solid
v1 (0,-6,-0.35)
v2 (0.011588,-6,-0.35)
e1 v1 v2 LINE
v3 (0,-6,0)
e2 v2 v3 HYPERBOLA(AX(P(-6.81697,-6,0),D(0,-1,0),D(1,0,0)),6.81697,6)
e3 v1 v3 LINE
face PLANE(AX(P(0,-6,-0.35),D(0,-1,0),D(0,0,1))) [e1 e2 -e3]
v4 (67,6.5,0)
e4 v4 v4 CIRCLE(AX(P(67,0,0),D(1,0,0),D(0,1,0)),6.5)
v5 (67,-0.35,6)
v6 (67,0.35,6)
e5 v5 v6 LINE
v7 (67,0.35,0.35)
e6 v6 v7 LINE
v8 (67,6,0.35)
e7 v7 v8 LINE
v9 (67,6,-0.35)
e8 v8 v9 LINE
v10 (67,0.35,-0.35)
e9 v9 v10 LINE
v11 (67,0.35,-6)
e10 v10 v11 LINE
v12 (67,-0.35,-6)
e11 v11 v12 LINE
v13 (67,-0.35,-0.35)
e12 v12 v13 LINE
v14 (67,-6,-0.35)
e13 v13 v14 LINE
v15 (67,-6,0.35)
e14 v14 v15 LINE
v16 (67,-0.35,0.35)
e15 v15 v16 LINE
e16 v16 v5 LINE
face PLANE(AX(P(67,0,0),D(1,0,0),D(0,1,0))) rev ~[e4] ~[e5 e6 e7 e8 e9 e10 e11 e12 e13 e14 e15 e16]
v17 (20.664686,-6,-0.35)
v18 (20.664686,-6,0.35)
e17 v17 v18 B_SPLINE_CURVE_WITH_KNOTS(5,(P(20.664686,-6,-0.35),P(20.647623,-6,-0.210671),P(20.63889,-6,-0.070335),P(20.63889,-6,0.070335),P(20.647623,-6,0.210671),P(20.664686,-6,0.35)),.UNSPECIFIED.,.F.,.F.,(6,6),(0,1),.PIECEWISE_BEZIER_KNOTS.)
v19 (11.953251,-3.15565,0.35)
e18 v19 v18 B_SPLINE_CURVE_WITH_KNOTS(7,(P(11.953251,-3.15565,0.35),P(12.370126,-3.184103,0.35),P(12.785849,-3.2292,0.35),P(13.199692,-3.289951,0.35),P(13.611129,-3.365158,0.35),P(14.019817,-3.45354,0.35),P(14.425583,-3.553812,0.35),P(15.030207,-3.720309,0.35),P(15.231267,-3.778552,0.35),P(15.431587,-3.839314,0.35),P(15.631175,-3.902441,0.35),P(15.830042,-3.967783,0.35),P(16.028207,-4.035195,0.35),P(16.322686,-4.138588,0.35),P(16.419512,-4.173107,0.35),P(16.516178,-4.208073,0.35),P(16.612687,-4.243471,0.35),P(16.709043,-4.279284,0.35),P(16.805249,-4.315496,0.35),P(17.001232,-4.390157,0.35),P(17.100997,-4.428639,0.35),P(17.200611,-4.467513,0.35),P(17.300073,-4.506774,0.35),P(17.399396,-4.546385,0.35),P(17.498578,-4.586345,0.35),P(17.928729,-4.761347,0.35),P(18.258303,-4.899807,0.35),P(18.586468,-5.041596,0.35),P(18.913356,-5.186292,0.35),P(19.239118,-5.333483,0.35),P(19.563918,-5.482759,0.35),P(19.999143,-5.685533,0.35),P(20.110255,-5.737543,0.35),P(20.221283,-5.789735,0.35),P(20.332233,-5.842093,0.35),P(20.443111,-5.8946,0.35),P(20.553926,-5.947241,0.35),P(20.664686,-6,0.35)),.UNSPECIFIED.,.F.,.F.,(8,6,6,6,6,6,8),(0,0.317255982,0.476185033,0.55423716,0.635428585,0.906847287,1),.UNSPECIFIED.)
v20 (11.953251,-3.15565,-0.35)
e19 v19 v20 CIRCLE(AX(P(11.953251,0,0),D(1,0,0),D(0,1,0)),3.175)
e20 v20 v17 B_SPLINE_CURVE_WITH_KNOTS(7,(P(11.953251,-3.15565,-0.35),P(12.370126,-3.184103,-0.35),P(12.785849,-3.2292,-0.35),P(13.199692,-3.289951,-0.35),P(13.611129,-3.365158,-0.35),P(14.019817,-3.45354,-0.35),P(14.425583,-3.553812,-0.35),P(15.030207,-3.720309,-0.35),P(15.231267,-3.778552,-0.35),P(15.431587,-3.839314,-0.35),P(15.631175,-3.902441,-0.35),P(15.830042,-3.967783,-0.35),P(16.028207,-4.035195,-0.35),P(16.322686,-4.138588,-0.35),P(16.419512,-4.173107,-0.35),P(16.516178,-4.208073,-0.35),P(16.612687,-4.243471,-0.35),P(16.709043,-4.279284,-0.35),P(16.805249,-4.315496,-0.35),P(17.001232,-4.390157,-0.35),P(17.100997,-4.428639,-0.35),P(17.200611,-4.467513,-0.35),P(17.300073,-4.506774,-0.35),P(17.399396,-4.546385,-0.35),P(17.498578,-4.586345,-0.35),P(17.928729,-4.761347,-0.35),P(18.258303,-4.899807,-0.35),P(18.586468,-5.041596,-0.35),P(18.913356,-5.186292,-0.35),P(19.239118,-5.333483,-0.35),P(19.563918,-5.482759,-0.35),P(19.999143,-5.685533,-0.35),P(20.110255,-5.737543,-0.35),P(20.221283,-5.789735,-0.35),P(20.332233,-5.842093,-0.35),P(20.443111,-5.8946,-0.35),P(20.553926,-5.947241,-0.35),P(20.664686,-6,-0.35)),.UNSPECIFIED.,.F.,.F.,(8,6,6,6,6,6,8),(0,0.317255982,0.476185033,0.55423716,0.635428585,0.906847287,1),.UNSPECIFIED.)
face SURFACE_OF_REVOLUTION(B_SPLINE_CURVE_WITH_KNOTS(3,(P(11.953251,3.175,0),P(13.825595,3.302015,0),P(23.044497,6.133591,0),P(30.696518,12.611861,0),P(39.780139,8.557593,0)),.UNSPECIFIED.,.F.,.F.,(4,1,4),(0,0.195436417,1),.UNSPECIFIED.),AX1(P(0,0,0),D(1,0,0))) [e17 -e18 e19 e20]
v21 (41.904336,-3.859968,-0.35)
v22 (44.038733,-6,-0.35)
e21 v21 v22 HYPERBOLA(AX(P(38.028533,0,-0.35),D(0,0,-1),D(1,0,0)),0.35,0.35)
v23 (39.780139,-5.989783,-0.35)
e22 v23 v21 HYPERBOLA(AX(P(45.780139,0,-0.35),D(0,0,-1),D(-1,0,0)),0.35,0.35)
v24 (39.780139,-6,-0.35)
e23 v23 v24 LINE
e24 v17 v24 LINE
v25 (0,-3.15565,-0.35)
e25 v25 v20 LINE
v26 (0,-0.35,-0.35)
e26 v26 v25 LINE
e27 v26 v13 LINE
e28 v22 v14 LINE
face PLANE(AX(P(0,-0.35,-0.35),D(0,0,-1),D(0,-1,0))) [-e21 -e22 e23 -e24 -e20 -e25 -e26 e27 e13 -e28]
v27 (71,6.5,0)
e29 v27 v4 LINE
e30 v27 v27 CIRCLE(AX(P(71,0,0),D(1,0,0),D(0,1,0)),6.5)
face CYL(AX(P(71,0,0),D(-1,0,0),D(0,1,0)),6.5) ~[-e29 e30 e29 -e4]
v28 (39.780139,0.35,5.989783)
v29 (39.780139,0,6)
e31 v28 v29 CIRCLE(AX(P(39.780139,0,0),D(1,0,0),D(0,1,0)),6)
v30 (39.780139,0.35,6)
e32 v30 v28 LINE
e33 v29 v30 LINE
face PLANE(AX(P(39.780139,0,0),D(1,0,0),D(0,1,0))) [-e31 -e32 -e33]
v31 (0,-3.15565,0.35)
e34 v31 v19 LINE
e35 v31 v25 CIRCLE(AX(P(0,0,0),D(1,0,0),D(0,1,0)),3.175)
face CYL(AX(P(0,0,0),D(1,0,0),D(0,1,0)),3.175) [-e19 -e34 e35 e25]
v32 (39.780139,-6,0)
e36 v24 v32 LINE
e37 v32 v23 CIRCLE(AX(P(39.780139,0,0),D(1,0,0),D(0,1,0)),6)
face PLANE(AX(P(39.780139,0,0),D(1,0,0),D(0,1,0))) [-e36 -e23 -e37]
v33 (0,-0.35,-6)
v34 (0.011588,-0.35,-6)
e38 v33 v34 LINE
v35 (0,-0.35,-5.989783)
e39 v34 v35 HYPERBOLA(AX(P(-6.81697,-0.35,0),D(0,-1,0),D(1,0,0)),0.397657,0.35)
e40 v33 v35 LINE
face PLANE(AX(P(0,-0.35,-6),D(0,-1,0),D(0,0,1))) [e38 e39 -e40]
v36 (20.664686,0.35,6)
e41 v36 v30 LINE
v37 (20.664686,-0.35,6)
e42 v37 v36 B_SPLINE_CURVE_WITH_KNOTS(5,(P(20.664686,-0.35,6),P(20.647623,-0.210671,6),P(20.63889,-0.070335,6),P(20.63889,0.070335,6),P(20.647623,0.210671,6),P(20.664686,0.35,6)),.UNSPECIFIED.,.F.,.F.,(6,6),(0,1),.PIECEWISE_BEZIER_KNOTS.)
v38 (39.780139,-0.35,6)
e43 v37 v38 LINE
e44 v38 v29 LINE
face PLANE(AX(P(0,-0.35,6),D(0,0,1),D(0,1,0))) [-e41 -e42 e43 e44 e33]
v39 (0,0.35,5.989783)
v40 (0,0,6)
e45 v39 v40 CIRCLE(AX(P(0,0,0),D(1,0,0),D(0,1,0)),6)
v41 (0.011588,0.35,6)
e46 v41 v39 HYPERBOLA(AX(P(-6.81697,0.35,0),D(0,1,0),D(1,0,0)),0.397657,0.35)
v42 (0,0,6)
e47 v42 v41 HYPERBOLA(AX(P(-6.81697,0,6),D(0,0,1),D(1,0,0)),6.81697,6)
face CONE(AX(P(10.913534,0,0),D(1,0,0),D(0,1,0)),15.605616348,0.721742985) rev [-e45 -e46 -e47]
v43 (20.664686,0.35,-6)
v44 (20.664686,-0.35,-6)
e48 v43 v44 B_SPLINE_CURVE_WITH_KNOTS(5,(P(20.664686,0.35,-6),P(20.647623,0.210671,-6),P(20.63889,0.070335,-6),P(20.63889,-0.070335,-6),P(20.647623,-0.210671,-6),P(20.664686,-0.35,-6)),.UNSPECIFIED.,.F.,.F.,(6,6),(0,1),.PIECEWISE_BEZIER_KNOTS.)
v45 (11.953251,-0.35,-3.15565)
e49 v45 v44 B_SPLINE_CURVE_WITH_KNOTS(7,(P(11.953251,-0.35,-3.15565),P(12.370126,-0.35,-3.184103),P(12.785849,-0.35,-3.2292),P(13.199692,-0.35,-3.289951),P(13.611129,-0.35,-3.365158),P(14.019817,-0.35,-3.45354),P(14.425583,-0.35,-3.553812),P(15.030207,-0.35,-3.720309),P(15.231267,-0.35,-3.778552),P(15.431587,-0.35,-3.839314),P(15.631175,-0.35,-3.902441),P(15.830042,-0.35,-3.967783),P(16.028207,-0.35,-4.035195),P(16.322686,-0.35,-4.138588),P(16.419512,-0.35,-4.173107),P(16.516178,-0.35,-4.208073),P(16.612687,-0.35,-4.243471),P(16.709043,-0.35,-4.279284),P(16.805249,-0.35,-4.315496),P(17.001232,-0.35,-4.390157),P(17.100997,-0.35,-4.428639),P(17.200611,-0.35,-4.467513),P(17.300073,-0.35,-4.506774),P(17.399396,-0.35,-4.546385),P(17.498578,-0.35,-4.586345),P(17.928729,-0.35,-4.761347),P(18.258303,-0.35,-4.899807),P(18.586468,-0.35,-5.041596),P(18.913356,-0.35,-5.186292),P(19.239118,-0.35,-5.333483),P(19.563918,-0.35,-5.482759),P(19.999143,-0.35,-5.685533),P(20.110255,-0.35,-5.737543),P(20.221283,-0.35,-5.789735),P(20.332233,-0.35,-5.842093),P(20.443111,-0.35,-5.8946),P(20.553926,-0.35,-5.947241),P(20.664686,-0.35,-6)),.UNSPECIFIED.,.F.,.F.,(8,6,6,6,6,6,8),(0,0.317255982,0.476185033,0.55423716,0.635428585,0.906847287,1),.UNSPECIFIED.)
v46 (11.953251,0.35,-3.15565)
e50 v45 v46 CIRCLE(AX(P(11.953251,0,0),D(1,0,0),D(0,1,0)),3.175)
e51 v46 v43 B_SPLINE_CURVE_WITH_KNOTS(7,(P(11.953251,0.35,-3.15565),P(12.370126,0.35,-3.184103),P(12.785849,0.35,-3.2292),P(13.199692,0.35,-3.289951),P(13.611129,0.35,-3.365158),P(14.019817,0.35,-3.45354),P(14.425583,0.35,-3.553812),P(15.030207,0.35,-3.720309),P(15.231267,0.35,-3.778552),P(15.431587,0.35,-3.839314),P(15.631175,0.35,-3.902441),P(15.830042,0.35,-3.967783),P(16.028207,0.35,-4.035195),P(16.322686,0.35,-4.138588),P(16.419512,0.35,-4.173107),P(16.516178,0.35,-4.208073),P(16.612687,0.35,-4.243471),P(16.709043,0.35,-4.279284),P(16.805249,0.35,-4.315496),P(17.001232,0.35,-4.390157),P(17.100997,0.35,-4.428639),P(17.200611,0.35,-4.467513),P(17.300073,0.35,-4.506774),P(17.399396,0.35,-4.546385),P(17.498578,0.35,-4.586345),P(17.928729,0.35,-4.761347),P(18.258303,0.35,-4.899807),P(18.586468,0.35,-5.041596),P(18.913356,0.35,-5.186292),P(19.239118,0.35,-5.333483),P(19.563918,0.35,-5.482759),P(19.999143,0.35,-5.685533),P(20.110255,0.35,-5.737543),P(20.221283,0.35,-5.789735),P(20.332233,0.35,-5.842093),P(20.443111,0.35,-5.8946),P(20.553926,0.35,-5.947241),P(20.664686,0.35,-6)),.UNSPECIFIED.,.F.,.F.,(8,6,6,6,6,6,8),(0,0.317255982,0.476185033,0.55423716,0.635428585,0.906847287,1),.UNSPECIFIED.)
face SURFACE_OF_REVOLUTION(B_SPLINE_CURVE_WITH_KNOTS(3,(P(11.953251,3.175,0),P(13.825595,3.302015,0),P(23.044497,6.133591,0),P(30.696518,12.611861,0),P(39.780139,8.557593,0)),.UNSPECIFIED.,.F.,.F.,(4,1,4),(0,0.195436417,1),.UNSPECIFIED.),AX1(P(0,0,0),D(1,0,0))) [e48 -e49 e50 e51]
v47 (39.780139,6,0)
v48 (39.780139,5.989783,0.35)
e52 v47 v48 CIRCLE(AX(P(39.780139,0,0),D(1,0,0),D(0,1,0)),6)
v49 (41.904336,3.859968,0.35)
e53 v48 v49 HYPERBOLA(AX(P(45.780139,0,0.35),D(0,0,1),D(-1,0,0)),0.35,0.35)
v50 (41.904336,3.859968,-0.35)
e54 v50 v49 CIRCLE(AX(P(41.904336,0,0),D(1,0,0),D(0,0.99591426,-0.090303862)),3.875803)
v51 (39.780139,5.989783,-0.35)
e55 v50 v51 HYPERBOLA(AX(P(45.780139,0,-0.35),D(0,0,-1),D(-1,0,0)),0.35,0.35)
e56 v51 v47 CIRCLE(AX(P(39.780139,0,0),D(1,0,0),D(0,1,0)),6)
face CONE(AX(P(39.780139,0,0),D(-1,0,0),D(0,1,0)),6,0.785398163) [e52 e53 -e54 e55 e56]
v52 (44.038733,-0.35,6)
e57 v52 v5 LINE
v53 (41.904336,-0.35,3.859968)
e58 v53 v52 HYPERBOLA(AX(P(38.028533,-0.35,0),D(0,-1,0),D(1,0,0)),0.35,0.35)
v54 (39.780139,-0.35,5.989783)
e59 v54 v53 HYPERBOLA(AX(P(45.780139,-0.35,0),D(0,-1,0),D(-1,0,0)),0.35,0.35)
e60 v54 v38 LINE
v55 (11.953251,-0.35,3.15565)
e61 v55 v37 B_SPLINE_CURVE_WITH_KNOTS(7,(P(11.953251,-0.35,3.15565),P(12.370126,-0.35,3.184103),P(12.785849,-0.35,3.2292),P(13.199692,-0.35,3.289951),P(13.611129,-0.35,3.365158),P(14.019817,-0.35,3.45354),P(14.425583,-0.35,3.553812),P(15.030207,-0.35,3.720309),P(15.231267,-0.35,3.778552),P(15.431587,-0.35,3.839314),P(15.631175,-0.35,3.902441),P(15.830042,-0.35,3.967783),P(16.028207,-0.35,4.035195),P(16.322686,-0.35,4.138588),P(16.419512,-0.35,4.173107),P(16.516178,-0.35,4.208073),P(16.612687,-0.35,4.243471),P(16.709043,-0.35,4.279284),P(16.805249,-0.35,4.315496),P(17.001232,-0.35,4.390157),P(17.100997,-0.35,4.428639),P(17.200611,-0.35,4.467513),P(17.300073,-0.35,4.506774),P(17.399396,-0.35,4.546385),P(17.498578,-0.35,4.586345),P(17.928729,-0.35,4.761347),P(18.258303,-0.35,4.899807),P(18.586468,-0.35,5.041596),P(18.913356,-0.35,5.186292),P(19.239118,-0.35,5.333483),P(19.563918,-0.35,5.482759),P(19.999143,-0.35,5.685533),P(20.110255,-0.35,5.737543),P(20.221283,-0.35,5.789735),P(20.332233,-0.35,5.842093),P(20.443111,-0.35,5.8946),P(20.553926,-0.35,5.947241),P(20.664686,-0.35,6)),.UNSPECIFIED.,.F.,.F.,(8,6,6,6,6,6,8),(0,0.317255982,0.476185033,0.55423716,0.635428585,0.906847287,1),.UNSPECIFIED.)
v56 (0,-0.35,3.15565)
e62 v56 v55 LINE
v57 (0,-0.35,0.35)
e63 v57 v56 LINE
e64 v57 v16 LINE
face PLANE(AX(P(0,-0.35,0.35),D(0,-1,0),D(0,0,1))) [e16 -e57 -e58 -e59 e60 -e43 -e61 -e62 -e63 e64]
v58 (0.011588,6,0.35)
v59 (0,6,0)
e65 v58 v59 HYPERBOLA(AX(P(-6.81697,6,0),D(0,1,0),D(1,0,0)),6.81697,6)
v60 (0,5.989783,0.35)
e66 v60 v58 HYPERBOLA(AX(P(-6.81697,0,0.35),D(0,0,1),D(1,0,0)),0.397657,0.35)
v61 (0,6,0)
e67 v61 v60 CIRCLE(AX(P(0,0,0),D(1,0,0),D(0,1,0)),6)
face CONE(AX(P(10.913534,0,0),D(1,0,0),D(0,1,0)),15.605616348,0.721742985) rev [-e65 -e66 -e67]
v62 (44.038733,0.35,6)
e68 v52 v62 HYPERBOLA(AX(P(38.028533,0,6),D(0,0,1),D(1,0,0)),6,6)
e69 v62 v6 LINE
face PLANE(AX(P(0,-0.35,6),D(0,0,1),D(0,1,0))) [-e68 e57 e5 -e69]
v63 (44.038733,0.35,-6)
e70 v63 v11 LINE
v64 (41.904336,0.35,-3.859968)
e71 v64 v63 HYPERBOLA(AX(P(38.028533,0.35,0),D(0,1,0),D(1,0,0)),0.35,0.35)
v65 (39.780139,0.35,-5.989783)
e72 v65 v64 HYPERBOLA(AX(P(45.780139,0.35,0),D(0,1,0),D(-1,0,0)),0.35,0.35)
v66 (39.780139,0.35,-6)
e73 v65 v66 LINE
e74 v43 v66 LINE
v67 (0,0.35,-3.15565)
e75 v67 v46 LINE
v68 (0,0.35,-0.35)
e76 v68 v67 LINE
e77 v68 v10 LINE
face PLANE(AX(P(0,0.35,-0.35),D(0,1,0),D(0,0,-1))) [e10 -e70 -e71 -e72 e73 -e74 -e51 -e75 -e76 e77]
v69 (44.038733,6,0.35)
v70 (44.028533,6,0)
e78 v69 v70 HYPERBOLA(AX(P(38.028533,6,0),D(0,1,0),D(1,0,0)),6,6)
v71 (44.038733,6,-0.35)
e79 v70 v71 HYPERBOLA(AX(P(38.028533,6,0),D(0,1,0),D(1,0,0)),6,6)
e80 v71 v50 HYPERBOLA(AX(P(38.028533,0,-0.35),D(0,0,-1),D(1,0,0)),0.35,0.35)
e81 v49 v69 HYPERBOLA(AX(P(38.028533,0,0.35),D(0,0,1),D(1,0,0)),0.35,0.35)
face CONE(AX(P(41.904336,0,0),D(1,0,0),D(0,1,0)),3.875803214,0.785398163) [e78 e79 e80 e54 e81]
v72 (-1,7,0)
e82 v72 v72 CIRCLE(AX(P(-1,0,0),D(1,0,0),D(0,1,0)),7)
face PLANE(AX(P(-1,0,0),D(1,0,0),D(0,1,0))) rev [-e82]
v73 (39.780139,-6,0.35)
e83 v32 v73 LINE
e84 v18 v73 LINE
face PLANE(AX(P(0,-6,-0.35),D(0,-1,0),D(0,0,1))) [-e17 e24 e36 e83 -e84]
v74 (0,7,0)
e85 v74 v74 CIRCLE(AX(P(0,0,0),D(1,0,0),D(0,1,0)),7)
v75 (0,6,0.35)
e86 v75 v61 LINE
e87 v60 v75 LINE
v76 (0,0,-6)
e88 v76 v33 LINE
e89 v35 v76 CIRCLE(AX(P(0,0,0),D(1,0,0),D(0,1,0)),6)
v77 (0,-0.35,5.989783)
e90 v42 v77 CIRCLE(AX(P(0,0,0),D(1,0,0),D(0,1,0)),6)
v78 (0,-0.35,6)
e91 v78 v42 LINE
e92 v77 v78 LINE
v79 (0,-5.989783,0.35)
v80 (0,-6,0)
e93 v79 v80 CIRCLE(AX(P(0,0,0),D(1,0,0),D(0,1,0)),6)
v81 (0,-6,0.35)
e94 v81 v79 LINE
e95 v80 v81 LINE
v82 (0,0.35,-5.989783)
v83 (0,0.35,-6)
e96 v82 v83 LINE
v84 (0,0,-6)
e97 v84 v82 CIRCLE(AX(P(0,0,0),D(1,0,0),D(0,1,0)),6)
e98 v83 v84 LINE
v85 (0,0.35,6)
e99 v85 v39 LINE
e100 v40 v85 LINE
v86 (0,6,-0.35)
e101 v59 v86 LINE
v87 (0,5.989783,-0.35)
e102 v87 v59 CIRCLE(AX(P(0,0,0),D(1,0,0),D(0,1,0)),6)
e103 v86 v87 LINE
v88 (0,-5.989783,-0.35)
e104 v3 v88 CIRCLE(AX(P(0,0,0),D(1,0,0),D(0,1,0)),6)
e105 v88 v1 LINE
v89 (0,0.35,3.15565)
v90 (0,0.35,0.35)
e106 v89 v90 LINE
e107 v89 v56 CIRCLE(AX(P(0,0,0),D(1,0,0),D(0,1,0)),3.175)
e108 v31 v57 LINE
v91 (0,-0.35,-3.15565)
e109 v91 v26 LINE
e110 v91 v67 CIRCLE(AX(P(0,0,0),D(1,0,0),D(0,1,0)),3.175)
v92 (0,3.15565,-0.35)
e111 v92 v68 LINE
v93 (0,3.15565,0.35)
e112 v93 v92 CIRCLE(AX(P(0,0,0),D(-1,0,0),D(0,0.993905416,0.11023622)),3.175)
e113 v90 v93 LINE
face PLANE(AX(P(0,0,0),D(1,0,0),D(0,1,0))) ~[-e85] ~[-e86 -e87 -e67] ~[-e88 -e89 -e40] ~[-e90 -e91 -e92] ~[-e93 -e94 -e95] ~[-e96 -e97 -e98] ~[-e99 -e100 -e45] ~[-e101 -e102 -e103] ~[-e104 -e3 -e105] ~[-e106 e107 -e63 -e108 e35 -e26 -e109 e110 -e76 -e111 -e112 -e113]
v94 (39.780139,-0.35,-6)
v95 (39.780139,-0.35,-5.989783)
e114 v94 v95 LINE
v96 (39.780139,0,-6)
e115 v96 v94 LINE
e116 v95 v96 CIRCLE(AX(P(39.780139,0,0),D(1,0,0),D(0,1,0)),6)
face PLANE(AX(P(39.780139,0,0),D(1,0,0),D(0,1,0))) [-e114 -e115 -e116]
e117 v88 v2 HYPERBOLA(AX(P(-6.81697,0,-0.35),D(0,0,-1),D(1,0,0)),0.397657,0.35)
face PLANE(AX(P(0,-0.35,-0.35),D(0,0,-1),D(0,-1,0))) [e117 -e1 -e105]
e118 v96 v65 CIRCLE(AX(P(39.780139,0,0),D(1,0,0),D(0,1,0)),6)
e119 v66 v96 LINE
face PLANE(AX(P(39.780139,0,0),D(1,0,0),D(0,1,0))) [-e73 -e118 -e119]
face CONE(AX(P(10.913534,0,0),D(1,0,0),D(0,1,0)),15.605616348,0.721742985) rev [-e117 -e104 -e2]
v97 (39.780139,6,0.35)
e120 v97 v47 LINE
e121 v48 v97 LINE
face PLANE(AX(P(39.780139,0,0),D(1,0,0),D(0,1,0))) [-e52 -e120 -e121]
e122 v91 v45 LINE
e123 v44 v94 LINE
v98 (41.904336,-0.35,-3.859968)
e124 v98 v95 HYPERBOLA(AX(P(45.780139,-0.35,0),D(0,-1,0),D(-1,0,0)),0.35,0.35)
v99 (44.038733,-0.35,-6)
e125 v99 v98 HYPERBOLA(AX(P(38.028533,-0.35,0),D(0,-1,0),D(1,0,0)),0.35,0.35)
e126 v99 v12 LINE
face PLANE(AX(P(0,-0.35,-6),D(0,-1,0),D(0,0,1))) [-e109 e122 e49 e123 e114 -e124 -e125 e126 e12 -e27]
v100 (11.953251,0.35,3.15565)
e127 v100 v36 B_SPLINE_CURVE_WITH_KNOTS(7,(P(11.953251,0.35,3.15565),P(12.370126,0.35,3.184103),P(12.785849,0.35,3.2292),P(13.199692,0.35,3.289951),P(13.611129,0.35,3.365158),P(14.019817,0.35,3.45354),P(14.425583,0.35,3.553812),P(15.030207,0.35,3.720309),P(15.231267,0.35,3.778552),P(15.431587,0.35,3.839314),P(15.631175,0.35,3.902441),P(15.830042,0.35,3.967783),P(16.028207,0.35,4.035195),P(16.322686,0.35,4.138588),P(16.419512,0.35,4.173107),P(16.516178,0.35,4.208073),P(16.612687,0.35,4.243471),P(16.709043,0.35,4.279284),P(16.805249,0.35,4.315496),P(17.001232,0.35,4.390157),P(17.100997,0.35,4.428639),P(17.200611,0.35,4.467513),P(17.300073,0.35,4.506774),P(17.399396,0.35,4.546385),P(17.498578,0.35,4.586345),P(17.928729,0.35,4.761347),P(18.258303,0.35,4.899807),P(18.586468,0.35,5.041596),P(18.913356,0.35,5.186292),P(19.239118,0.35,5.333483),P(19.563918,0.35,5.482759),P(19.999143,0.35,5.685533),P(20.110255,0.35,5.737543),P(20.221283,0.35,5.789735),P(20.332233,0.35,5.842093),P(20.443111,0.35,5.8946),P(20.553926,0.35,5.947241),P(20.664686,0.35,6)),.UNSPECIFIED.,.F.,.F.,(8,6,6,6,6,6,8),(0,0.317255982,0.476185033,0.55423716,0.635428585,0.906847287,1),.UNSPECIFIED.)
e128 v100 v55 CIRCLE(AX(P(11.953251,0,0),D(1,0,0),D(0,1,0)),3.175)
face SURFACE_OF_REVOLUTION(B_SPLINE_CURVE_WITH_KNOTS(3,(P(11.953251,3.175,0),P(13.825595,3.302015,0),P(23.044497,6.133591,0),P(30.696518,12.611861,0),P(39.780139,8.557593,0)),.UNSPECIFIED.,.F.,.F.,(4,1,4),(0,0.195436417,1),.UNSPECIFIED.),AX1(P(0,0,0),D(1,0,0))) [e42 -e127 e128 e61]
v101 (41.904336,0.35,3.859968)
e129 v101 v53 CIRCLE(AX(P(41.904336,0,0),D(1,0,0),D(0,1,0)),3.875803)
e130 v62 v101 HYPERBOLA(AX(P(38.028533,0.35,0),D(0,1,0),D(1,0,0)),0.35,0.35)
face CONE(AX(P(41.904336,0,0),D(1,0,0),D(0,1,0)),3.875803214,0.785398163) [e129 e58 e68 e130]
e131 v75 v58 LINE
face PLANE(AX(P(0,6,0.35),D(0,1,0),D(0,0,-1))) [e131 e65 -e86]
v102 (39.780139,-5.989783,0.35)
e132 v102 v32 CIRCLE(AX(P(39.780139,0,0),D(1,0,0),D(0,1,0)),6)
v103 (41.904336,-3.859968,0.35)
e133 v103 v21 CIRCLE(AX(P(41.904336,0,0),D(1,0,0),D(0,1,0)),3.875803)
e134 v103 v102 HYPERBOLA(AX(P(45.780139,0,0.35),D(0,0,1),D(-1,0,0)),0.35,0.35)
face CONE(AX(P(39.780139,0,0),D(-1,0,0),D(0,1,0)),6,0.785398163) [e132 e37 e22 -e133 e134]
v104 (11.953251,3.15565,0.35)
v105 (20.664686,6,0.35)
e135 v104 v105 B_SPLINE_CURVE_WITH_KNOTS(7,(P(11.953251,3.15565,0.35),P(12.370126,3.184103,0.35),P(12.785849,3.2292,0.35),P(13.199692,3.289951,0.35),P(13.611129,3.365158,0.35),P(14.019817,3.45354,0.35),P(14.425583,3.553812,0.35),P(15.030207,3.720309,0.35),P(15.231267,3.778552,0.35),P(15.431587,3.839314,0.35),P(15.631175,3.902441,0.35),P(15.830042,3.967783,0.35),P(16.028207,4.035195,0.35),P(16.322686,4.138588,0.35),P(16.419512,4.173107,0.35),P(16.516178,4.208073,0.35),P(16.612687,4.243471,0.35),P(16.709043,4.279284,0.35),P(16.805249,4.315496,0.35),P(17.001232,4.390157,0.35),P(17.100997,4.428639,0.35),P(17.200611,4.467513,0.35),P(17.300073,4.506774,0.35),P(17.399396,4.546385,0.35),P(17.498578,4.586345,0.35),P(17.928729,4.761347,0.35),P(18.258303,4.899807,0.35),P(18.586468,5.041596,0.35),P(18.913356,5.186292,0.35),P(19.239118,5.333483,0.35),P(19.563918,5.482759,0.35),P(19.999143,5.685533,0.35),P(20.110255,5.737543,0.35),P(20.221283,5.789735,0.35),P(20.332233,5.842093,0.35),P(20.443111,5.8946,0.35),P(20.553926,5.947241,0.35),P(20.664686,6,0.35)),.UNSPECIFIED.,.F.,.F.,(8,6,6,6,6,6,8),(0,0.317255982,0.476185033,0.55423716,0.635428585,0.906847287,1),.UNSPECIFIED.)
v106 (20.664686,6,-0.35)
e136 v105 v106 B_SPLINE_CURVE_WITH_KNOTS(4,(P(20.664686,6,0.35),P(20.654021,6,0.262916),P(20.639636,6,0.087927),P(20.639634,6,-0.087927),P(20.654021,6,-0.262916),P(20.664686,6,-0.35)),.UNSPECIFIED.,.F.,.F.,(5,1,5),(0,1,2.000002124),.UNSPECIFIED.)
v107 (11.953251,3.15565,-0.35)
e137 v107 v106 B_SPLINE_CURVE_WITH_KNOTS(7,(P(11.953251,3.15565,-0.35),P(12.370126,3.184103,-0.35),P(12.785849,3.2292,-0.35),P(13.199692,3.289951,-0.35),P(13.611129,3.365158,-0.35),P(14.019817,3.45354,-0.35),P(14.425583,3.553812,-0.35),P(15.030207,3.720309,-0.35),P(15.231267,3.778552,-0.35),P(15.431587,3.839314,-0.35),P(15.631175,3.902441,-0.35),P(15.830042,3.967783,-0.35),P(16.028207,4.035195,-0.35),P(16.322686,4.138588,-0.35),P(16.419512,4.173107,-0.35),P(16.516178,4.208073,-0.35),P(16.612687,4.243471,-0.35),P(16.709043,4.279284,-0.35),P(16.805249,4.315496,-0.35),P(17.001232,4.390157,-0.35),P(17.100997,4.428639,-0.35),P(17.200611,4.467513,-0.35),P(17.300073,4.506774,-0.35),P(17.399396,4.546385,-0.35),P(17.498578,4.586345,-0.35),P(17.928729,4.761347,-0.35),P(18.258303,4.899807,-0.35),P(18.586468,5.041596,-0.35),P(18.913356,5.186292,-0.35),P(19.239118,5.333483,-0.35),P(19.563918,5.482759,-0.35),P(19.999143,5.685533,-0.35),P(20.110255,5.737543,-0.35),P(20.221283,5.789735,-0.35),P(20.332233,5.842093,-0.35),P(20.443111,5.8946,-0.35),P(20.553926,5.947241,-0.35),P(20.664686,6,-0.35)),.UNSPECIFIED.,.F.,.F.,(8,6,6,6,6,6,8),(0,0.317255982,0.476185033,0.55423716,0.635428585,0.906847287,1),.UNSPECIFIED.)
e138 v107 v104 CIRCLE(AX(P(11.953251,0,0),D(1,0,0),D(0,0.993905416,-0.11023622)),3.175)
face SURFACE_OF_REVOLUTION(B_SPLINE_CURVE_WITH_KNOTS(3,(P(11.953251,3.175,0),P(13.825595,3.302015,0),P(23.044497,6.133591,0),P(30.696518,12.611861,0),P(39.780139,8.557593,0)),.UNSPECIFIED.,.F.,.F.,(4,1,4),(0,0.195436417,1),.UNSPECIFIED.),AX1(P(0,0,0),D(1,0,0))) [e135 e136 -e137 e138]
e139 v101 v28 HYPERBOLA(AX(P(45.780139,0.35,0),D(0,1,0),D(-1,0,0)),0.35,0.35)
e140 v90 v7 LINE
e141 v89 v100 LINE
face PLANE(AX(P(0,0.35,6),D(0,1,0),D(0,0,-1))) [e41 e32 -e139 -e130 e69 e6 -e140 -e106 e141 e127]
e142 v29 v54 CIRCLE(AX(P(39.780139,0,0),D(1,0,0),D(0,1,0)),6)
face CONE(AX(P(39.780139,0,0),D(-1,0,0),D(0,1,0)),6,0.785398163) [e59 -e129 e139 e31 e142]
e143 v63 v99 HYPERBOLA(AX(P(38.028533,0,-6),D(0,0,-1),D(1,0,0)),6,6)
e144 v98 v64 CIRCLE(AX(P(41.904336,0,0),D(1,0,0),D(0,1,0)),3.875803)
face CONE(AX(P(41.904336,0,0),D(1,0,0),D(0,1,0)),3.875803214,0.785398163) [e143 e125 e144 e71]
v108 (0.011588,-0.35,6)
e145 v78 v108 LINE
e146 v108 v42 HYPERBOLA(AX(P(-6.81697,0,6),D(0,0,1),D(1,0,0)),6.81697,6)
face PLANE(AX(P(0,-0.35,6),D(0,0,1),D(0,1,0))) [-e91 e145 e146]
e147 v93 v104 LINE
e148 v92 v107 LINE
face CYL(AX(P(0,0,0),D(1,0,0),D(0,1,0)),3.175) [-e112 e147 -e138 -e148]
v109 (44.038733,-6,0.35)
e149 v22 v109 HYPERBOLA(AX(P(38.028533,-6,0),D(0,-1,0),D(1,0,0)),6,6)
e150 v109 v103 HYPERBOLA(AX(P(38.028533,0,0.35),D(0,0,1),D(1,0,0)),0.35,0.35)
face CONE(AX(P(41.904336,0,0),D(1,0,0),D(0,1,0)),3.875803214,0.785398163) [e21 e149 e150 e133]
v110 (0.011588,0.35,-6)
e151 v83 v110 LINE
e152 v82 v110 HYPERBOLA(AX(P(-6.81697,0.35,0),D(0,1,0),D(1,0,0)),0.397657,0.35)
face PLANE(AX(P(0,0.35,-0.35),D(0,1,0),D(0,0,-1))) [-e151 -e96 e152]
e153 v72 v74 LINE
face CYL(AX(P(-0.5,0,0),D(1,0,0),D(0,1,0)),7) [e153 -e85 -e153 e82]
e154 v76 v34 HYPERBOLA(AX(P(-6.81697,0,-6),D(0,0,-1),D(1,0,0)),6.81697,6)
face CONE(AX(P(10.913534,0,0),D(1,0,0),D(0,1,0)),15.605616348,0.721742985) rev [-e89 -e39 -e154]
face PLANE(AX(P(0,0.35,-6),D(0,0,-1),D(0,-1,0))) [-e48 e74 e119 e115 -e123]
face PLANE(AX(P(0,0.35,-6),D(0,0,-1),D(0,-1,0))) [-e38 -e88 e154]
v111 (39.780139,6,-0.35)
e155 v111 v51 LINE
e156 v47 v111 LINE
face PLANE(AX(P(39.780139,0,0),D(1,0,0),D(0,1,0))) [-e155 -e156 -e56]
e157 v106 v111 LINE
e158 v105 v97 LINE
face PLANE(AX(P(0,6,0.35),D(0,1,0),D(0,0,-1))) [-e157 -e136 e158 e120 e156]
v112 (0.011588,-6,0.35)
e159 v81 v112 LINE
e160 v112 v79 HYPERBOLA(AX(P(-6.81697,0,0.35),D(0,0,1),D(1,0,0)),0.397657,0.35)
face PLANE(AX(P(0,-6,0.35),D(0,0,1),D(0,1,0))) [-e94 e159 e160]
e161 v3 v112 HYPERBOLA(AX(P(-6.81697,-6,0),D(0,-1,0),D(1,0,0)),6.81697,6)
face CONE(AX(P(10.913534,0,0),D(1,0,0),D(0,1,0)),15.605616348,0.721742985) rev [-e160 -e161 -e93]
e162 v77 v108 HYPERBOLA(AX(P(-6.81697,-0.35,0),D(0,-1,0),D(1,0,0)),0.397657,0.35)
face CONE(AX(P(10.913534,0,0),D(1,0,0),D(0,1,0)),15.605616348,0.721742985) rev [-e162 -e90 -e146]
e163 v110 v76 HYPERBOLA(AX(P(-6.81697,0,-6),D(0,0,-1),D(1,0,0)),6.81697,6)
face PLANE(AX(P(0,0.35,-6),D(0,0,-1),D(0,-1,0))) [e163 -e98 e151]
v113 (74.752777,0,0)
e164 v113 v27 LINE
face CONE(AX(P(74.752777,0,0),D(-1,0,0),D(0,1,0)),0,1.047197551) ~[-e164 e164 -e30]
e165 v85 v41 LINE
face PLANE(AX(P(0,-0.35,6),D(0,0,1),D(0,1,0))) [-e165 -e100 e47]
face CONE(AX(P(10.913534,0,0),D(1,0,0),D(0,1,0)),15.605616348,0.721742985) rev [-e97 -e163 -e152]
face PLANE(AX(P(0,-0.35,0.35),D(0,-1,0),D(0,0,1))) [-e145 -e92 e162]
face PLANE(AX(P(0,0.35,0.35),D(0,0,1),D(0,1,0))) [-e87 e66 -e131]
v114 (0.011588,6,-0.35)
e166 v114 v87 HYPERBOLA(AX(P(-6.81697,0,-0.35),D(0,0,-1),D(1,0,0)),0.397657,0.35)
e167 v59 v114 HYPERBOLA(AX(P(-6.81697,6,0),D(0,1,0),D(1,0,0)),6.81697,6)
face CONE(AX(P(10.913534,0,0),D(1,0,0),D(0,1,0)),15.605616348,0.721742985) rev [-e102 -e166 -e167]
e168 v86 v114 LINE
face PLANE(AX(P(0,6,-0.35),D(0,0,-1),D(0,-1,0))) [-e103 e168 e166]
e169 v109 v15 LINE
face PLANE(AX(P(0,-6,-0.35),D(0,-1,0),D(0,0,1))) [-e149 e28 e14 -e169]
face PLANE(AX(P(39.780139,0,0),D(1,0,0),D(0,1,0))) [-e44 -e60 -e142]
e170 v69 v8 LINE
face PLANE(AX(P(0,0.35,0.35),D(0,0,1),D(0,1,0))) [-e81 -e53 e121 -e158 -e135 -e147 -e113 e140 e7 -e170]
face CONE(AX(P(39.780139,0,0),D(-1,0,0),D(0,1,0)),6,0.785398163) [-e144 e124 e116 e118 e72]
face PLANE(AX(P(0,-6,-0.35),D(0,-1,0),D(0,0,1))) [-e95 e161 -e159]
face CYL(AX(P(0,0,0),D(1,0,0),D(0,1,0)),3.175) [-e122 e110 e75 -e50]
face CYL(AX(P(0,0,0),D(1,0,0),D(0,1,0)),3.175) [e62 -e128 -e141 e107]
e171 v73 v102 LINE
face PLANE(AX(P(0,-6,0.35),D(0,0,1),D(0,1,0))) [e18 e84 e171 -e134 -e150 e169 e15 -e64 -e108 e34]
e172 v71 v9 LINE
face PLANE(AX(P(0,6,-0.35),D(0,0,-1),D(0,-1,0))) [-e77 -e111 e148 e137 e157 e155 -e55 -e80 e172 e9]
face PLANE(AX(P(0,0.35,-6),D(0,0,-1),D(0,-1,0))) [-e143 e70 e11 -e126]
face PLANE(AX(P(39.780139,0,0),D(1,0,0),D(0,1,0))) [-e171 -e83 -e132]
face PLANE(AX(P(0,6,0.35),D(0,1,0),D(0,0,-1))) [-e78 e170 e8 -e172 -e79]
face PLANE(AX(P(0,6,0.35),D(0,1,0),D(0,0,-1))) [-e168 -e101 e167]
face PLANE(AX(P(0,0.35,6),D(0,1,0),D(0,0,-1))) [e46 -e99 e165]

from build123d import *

# Parameters (mm, degrees)
EXTRUDE_1_DEPTH = 67
SKETCH_3_W      = 1
SKETCH_3_H      = 7


with BuildPart() as part:
    # Эскиз1 → Бобышка-Вытянуть1 (new body)
    with BuildSketch(Plane(origin=(0, 0, 0), x_dir=(0, 0, -1), z_dir=(1, 0, 0))):
        Polygon((-6, 0.35), (-0.35, 0.35), (-0.35, 6), (0.35, 6), (0.35, 0.35), (6, 0.35), (6, -0.35), (0.35, -0.35), (0.35, -6), (-0.35, -6), (-0.35, -0.35), (-6, -0.35), align=None)
    extrude(amount=EXTRUDE_1_DEPTH)

    # Эскиз3 → Повернуть1 (revolve)
    with BuildSketch(Plane.XY):
        Polygon((74.75277675, 0), (71, 6.5), (67, 6.5), (67, 0), align=None)
        with Locations((-0.5, 3.5)):
            Rectangle(SKETCH_3_W, SKETCH_3_H)
    revolve(axis=Axis((0, 0, 0), (1, 0, 0)))

    # Эскиз4 → Вырез-Повернуть1 (revolve, cut)
    with BuildSketch(Plane.XY):
        with BuildLine():
            Line((0, 6), (0, 3.175))
            Line((0, 3.175), (11.953250745, 3.175))
            add(Edge.make_bspline(
                [(11.953250745, 3.175), (13.82559534, 3.302015048), (23.044496857, 6.133590622), (30.696517759, 12.611861304), (39.780139318, 8.557592838)],
                knots=[0, 0, 0, 0, 0.195436417, 1, 1, 1, 1], degree=3))
            Line((39.780139318, 8.557592838), (39.780139318, 6))
            Line((39.780139318, 6), (41.904336104, 3.875803214))
            Line((41.904336104, 3.875803214), (45.076323965, 7.047791075))
            Line((45.076323965, 7.047791075), (24.996442716, 20.783696601))
            Line((24.996442716, 20.783696601), (10.913533525, 15.605616348))
            Line((10.913533525, 15.605616348), (0, 6))
        make_face()
    revolve(axis=Axis((0, 0, 0), (1, 0, 0)), mode=Mode.SUBTRACT)


solid = part.part
